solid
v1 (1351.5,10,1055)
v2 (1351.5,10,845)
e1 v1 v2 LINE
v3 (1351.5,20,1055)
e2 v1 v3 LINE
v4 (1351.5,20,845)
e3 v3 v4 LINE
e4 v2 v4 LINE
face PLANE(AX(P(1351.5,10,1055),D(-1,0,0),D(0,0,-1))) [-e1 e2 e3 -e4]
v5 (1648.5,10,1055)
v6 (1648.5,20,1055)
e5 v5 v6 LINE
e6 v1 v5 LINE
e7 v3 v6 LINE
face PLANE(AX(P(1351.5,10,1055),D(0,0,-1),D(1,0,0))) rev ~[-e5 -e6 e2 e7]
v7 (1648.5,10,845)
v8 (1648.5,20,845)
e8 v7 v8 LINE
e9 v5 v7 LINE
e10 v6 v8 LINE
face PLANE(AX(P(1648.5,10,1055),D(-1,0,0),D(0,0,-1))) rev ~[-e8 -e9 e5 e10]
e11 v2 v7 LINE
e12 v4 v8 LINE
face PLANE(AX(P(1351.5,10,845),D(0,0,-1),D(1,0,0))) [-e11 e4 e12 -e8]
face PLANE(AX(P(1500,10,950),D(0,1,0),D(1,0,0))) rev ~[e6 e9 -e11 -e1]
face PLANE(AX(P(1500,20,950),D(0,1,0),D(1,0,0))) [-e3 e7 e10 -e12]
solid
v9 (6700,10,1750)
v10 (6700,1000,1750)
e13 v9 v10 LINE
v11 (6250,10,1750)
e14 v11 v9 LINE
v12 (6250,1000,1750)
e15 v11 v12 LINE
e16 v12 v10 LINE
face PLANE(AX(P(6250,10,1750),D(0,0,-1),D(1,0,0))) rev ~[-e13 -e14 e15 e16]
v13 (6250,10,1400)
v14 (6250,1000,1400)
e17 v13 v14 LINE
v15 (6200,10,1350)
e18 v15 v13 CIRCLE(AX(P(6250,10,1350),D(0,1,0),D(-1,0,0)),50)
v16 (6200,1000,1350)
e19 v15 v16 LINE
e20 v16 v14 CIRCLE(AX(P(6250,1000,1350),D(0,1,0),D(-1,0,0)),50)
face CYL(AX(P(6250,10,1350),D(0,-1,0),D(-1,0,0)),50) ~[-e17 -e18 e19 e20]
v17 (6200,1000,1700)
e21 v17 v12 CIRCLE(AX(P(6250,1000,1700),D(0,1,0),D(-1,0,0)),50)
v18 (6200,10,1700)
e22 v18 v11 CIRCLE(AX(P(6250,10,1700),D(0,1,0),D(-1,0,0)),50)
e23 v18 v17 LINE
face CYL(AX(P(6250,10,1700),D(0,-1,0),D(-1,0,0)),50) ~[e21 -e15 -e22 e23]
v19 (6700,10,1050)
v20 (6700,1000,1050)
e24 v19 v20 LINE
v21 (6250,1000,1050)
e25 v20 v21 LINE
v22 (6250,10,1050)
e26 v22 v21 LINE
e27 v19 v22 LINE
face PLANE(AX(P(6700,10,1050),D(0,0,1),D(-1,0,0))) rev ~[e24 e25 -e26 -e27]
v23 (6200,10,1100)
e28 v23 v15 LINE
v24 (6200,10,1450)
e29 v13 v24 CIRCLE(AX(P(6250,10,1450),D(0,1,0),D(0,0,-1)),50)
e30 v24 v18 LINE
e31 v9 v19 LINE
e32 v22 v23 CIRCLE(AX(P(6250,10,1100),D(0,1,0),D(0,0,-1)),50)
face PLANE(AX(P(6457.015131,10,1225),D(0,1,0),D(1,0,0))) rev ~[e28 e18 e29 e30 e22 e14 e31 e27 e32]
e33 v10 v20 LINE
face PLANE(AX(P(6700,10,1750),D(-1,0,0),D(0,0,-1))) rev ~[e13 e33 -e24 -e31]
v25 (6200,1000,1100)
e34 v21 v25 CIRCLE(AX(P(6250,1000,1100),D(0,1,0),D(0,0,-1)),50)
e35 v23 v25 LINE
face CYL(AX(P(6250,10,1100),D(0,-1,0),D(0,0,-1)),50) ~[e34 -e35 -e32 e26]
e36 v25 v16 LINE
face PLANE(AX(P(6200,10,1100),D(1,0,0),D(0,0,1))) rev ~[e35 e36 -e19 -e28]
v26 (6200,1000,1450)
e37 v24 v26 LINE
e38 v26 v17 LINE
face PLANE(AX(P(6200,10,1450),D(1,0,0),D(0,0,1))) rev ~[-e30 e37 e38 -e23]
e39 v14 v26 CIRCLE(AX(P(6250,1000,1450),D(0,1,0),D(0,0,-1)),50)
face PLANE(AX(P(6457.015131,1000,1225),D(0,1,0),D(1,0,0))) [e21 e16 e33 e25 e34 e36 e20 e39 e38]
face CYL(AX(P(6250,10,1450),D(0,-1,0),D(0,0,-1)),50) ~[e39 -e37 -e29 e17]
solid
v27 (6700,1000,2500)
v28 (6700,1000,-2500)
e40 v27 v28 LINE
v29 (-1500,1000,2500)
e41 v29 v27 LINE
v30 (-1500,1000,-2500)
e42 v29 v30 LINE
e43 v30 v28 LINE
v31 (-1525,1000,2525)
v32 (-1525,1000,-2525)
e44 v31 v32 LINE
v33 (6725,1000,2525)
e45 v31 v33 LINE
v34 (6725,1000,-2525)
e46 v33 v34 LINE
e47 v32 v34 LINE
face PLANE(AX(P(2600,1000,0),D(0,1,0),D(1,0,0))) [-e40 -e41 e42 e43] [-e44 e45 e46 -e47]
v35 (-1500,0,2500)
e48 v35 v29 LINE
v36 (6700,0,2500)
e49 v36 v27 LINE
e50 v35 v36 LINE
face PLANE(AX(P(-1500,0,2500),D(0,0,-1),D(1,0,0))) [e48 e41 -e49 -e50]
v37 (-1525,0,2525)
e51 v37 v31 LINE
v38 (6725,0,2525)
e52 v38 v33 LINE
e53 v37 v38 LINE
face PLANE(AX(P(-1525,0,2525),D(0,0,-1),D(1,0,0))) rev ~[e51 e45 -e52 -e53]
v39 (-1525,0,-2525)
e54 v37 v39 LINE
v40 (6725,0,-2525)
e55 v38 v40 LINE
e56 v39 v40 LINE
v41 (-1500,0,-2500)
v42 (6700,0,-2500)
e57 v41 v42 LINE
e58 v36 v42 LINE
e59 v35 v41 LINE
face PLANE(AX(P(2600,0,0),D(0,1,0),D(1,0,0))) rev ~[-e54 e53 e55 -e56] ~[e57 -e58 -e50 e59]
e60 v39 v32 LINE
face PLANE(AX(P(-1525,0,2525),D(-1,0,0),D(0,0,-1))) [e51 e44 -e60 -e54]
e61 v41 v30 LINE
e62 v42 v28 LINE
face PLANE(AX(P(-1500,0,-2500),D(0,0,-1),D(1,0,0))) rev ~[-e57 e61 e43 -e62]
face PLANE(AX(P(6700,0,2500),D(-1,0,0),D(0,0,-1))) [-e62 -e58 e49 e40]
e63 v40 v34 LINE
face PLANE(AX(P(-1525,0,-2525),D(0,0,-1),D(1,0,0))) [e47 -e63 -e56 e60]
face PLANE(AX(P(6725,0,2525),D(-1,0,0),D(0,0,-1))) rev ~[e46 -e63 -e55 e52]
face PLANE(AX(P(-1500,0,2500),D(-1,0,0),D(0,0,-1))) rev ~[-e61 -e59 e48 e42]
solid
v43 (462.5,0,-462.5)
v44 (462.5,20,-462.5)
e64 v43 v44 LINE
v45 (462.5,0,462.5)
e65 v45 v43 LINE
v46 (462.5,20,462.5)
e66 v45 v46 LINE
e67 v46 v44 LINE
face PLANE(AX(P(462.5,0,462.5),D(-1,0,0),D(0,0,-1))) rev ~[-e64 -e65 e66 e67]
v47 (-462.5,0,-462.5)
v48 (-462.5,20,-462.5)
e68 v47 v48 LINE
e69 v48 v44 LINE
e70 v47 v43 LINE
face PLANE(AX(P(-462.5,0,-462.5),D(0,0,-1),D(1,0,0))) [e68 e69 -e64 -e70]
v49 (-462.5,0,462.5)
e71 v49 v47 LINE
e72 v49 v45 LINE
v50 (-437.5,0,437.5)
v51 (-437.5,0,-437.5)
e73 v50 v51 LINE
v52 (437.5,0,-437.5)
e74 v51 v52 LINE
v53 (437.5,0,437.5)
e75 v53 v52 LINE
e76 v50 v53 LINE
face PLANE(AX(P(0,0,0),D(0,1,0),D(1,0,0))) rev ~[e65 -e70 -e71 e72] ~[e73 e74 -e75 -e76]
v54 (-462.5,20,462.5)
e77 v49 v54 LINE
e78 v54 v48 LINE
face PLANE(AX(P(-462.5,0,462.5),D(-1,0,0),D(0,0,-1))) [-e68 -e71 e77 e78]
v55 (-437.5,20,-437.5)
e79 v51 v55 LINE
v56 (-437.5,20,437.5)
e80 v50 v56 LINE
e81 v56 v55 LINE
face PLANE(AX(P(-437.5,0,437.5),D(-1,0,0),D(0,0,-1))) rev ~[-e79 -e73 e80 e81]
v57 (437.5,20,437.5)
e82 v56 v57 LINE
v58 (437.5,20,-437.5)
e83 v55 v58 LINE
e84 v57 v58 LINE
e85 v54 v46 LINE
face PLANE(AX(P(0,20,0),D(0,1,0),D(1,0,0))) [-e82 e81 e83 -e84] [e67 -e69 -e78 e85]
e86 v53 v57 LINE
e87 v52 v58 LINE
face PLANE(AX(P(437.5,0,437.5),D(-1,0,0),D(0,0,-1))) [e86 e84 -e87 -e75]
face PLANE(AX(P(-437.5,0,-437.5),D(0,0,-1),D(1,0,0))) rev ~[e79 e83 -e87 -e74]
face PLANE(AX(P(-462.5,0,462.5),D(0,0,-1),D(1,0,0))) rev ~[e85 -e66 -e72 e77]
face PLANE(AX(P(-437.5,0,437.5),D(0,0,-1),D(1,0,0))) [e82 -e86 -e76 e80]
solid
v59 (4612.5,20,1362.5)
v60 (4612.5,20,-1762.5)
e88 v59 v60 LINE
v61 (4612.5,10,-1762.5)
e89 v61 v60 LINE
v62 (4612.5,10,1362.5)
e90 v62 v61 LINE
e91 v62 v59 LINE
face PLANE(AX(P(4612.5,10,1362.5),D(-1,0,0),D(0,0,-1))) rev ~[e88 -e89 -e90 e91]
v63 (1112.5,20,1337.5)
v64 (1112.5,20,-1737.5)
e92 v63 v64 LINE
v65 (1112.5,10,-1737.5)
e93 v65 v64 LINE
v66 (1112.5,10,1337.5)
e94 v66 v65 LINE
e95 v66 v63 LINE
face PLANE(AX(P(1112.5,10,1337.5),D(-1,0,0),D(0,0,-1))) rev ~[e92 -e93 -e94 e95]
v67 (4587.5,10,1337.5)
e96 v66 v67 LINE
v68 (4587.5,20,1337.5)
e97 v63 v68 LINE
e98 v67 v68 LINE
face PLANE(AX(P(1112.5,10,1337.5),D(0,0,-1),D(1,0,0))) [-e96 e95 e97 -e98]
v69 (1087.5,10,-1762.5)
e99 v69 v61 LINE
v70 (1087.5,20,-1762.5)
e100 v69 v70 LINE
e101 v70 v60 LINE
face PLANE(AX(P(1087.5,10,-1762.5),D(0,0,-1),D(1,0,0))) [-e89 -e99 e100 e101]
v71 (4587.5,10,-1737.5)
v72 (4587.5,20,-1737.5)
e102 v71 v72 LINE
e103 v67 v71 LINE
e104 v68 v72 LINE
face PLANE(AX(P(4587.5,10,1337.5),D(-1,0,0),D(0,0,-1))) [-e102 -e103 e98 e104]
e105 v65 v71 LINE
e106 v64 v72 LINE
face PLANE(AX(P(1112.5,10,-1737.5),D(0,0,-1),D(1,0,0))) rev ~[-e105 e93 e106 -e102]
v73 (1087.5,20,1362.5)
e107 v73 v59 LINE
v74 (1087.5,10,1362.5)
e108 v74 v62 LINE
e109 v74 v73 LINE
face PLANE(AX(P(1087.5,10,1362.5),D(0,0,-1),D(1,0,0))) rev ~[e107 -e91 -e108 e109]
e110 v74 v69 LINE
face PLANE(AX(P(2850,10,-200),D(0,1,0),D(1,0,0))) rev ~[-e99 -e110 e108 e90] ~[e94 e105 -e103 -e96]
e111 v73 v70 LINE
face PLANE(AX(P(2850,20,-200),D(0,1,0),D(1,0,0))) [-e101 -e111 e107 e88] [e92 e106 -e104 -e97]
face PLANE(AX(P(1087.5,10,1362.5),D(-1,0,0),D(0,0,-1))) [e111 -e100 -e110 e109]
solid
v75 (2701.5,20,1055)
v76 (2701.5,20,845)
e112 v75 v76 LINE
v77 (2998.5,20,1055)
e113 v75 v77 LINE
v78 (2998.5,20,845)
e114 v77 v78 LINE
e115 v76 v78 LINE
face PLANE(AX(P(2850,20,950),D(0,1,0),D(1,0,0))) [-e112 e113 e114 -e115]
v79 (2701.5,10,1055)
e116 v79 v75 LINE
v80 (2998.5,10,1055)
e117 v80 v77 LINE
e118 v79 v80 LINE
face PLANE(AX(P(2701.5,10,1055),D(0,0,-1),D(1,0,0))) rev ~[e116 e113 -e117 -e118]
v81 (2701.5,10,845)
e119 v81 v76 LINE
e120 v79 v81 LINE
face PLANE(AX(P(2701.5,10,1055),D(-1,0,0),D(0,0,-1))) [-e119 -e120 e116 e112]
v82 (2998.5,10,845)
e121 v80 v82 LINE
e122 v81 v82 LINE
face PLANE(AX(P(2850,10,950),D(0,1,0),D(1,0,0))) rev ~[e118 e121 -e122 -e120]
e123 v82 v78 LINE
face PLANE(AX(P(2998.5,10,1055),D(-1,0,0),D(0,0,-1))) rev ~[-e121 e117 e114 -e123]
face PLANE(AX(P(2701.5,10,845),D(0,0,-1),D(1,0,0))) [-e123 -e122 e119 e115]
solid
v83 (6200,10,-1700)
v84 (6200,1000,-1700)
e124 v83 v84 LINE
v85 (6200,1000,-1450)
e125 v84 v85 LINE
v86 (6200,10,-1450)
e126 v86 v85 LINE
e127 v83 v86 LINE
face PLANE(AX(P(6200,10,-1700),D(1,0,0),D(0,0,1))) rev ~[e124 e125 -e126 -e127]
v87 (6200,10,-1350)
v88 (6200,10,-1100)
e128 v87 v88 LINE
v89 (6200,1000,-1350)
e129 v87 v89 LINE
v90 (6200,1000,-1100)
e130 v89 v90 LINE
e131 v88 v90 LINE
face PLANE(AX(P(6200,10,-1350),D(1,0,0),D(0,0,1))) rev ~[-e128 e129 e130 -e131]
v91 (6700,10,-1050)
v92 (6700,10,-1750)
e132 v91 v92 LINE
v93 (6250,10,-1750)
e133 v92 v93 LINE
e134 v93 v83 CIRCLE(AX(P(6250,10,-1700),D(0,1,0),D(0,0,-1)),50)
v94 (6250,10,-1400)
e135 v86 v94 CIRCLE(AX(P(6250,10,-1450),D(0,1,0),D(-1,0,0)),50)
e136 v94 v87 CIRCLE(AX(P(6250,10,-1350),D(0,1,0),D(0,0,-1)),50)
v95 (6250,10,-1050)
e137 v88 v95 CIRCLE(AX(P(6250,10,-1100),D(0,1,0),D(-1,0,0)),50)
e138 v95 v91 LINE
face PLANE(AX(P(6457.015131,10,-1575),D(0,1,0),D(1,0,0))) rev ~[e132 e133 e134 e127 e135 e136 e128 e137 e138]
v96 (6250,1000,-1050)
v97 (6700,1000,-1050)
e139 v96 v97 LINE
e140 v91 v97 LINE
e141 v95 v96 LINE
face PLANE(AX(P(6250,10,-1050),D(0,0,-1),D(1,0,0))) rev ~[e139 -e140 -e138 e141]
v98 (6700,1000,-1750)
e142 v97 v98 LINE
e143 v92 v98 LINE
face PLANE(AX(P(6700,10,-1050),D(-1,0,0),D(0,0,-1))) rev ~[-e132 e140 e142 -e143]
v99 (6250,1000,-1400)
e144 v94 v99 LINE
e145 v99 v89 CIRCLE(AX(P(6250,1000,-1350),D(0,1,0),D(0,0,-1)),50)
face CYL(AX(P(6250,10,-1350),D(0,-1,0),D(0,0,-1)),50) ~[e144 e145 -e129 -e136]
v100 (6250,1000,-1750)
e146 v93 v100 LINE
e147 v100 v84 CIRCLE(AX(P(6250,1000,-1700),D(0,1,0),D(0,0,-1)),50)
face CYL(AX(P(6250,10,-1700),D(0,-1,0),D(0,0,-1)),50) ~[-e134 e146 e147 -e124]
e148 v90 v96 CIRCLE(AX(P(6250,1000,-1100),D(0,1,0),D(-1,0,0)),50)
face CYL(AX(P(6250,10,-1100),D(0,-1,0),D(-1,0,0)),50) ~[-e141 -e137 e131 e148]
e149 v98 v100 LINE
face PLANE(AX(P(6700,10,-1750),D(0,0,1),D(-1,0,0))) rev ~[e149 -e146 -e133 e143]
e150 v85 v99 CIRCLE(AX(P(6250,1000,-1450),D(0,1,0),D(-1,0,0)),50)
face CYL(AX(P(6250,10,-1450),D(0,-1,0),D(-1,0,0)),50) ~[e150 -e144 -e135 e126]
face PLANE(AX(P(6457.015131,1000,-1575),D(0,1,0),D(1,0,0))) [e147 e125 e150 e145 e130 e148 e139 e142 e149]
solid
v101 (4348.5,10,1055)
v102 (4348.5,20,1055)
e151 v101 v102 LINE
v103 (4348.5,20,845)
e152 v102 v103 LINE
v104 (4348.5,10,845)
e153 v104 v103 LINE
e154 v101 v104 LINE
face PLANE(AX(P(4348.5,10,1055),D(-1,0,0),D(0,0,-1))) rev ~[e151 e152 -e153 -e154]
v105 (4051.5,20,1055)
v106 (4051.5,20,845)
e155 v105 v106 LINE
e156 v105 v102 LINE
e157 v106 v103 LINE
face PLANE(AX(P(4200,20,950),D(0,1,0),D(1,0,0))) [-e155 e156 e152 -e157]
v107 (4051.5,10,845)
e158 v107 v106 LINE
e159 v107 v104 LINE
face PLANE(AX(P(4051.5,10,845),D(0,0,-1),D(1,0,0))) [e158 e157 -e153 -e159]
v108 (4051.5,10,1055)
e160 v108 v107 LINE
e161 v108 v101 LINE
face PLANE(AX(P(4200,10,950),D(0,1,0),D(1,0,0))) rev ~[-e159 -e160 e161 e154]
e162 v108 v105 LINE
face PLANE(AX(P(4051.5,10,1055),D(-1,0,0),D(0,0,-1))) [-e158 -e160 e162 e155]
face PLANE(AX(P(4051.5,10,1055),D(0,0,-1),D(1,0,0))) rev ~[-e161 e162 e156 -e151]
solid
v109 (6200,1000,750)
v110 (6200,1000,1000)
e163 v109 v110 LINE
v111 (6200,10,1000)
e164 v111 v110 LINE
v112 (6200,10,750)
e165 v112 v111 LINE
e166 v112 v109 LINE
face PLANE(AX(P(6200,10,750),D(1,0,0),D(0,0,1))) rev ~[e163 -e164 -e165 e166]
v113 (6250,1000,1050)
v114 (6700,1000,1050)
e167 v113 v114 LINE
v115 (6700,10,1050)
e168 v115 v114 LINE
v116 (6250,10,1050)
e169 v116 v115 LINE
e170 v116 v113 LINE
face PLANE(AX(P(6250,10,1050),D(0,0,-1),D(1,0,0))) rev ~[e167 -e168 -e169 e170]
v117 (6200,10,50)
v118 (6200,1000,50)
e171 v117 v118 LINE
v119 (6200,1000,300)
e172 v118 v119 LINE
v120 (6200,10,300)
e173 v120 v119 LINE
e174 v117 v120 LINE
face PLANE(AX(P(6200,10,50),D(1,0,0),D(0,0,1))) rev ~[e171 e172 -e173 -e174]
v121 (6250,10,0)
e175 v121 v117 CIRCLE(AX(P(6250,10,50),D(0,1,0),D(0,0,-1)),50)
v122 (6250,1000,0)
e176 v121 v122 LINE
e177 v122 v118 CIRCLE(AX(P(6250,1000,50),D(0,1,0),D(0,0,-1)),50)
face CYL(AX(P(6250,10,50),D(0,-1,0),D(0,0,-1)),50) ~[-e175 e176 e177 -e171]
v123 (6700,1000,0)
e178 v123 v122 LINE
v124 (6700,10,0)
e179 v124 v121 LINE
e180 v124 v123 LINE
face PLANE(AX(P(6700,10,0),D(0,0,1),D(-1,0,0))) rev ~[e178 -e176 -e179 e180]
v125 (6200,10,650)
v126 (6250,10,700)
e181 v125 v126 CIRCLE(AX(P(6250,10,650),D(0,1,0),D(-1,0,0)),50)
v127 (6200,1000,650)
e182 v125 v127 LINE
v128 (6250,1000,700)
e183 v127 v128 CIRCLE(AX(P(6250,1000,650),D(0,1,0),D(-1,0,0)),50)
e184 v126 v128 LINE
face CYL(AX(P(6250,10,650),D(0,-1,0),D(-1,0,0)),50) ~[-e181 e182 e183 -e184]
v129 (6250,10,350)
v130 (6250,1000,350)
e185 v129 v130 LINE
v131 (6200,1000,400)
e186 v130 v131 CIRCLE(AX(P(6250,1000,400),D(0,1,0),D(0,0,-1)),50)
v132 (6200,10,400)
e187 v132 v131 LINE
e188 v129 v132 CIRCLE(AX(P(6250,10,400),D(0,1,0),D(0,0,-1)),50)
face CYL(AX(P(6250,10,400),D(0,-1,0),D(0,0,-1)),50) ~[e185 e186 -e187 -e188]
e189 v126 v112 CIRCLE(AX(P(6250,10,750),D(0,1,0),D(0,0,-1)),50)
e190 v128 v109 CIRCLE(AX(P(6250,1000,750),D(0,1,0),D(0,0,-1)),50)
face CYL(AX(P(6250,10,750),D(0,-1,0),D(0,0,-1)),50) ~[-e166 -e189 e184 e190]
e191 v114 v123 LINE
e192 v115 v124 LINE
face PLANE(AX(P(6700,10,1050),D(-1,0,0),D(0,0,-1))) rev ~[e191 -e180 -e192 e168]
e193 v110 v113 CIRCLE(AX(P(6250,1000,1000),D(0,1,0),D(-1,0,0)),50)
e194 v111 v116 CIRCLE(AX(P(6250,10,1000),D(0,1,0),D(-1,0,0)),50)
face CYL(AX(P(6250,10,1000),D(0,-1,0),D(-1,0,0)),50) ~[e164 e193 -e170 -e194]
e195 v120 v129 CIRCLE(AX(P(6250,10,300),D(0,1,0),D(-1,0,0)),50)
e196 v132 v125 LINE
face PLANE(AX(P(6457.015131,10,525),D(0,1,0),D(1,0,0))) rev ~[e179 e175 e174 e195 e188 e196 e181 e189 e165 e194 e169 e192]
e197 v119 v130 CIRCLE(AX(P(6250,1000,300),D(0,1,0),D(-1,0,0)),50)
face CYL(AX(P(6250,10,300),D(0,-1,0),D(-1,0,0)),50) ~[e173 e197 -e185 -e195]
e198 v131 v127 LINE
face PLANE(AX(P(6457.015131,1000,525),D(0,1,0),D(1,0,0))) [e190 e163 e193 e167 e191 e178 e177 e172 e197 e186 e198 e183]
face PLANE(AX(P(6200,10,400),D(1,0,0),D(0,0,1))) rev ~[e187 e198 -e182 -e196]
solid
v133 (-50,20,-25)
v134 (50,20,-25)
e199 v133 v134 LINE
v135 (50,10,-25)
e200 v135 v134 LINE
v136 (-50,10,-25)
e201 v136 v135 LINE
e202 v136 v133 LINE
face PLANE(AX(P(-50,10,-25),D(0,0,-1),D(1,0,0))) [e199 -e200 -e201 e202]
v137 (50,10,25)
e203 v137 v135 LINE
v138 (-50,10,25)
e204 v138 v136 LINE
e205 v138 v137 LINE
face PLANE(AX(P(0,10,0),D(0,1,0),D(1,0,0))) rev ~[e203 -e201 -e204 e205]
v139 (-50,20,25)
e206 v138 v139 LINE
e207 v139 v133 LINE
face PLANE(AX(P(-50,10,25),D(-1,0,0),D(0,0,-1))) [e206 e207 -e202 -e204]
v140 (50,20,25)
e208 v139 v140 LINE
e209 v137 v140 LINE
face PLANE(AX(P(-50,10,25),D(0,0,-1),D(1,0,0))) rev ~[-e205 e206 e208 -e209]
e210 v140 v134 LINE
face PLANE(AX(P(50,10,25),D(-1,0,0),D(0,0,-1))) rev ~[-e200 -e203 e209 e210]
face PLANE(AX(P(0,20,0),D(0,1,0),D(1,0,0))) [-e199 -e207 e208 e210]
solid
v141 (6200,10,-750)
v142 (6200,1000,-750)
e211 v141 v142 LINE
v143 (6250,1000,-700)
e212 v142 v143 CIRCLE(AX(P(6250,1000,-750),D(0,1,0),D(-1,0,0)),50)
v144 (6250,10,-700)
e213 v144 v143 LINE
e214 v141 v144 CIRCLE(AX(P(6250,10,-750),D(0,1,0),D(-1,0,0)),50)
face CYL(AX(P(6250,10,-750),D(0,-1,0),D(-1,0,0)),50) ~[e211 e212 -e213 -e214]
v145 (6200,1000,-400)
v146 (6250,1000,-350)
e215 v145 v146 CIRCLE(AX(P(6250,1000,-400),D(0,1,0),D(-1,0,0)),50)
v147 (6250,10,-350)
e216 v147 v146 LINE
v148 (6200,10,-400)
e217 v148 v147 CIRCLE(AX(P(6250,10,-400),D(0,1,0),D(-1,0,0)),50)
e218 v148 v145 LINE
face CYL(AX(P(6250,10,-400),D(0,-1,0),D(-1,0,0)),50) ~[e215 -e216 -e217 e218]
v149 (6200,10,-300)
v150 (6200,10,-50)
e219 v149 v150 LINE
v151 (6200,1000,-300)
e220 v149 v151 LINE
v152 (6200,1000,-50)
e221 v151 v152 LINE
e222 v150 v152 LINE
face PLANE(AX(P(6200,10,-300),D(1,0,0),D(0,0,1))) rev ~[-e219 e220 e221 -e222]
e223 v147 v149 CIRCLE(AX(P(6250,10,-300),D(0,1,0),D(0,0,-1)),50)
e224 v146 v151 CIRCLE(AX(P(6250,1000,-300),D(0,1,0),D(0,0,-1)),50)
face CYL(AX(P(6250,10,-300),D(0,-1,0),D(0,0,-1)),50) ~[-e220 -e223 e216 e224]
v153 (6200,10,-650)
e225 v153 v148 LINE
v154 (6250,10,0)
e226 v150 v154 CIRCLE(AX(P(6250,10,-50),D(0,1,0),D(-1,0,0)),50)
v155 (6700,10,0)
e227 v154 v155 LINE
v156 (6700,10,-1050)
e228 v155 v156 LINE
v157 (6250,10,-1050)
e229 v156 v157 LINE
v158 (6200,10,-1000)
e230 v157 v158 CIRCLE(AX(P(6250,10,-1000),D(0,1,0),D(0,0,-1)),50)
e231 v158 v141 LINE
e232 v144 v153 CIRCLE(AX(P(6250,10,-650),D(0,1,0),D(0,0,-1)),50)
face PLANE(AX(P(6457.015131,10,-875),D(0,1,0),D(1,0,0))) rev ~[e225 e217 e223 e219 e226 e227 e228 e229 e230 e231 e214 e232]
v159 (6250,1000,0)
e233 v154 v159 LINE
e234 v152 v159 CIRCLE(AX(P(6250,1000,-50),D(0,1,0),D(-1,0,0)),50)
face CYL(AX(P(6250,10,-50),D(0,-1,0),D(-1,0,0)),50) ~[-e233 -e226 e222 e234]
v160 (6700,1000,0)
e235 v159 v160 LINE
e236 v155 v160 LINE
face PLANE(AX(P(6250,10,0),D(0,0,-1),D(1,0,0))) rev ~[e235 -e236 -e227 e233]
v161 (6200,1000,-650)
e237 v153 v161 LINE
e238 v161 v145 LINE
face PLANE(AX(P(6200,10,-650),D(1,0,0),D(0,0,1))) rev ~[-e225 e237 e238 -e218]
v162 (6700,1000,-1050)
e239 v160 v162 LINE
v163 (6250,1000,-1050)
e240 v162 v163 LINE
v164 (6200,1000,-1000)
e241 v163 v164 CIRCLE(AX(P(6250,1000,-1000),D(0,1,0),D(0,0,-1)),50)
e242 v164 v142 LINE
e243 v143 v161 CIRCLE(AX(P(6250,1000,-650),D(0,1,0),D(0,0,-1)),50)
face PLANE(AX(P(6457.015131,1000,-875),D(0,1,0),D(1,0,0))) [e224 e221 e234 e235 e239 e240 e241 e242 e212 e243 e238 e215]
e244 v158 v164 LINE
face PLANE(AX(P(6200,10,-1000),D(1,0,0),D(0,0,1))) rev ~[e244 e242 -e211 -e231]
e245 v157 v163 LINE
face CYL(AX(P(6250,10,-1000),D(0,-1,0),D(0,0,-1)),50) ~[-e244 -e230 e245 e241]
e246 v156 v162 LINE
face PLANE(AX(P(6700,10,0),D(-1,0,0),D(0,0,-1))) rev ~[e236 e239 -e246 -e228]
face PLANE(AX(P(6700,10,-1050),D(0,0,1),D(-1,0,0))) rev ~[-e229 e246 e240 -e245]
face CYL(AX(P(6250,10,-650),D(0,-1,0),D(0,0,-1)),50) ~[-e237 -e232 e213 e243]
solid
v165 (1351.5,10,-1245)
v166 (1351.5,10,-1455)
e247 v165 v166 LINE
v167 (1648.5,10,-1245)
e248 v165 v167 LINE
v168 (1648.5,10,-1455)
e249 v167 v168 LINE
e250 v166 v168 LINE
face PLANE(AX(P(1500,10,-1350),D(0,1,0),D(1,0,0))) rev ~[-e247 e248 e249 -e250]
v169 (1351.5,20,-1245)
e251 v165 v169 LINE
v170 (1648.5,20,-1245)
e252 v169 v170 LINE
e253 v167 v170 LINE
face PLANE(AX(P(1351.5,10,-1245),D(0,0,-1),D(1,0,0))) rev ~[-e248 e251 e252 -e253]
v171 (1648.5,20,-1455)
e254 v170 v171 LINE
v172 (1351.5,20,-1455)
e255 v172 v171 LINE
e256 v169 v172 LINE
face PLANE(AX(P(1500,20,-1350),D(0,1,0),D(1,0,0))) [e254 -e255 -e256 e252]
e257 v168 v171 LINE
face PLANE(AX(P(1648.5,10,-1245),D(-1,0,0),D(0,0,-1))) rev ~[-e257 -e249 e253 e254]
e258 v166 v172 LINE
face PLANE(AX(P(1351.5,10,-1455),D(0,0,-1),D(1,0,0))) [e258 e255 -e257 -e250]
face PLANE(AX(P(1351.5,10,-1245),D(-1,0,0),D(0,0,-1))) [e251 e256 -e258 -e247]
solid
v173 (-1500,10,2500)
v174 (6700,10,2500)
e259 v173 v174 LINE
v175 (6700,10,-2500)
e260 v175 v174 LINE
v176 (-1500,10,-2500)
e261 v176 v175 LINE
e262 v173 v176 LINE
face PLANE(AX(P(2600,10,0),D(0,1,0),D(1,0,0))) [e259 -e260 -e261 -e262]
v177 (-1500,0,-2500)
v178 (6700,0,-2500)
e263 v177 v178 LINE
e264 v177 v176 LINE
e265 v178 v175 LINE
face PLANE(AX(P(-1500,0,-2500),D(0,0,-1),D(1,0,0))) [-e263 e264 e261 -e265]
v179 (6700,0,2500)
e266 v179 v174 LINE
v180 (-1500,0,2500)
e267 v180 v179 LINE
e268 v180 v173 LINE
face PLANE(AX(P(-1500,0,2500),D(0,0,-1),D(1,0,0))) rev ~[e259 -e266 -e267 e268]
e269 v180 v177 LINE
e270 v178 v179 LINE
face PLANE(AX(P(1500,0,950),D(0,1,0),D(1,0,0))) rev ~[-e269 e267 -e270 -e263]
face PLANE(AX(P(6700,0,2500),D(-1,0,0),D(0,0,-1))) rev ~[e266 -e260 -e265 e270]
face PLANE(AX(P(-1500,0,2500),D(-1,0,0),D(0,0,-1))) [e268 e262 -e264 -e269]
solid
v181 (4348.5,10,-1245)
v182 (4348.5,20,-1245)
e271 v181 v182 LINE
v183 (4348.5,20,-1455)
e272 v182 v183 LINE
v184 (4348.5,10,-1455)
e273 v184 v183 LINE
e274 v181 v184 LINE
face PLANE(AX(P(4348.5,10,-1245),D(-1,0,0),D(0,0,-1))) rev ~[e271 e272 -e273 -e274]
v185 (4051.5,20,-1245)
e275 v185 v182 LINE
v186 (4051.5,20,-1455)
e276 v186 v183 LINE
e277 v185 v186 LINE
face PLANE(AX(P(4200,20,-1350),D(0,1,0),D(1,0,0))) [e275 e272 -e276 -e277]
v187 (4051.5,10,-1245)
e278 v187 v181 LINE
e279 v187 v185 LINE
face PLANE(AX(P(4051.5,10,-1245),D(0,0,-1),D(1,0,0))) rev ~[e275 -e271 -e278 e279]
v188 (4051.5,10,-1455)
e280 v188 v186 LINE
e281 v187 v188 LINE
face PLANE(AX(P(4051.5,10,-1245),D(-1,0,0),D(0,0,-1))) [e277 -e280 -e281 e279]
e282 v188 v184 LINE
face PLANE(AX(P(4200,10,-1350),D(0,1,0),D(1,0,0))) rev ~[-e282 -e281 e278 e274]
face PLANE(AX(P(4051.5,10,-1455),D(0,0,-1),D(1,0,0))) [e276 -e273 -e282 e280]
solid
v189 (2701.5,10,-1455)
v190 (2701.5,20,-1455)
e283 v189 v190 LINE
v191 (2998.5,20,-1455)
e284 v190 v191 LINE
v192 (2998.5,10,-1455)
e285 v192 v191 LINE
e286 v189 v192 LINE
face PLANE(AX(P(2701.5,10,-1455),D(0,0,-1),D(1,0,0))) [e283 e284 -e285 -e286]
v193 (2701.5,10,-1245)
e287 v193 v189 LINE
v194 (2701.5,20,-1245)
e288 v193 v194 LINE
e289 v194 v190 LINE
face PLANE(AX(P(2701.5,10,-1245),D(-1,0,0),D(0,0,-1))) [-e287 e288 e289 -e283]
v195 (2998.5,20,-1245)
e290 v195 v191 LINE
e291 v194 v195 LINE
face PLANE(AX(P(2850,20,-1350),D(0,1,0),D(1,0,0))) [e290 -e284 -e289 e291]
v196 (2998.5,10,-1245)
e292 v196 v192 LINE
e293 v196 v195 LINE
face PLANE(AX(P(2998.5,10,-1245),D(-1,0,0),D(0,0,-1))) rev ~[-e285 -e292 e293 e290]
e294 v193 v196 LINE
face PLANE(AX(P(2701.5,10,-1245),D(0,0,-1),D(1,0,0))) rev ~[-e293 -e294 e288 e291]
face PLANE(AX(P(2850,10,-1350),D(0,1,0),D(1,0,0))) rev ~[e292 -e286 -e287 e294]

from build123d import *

# Parameters (mm, degrees)
SKETCH1_W                = 8200
SKETCH1_H                = 5000
SKETCH1_W_2              = 900
SKETCH1_H_2              = 900
SKETCH1_W_3              = 100
SKETCH1_H_3              = 50
SKETCH1_W_4              = 3500
SKETCH1_H_4              = 3100
SKETCH1_W_5              = 297
SKETCH1_H_5              = 210
BOSS_EXTRUDE1_DEPTH      = 10
EXTRUDE_THIN1_DEPTH      = 10
EXTRUDE_THIN1_DEPTH_BACK = 10
EXTRUDE_THIN1_START      = 10
SKETCH1_4_W              = 925
SKETCH1_4_H              = 925
SKETCH1_4_W_2            = 875
SKETCH1_4_H_2            = 875
BOSS_EXTRUDE3_START      = 10
SKETCH1_5_W              = 100
SKETCH1_5_H              = 50
BOSS_EXTRUDE3_DEPTH      = 10
SKETCH1_6_W              = 8250
SKETCH1_6_H              = 5050
SKETCH1_6_W_2            = 8200
SKETCH1_6_H_2            = 5000
EXTRUDE_THIN2_DEPTH      = 1000
BOSS_EXTRUDE4_START      = 10
SKETCH1_7_W              = 297
SKETCH1_7_H              = 210
BOSS_EXTRUDE4_DEPTH      = 10
BOSS_EXTRUDE4_2_DEPTH    = 10
BOSS_EXTRUDE4_3_DEPTH    = 10
BOSS_EXTRUDE4_4_DEPTH    = 10
BOSS_EXTRUDE4_5_DEPTH    = 10
BOSS_EXTRUDE4_6_DEPTH    = 10
BOSS_EXTRUDE6_START      = 10
BOSS_EXTRUDE6_DEPTH      = 990
BOSS_EXTRUDE7_START      = 10
BOSS_EXTRUDE7_DEPTH      = 990
BOSS_EXTRUDE8_START      = 10
BOSS_EXTRUDE8_DEPTH      = 990
BOSS_EXTRUDE9_START      = 10
BOSS_EXTRUDE9_DEPTH      = 990
EXTRUDE_THIN3_START      = 10
SKETCH1_12_W             = 3525
SKETCH1_12_H             = 3125
SKETCH1_12_W_2           = 3475
SKETCH1_12_H_2           = 3075
EXTRUDE_THIN3_DEPTH      = 10


with BuildPart() as part:
    # Sketch1 → Boss-Extrude1 (new body)
    # profile 1 of 20: a face of its own
    with BuildSketch(Plane(origin=(0, 0, 0), x_dir=(1, 0, 0), z_dir=(0, 1, 0))):
        with Locations((2600, 0)):
            Rectangle(SKETCH1_W, SKETCH1_H)
        Rectangle(SKETCH1_W_2, SKETCH1_H_2, mode=Mode.SUBTRACT)
    # profile 2 of 20: a face of its own
    with BuildSketch(Plane(origin=(0, 0, 0), x_dir=(1, 0, 0), z_dir=(0, 1, 0))):
        Rectangle(SKETCH1_W_2, SKETCH1_H_2)
    # profile 3 of 20: a face of its own
    with BuildSketch(Plane(origin=(0, 0, 0), x_dir=(1, 0, 0), z_dir=(0, 1, 0))):
        Rectangle(SKETCH1_W_3, SKETCH1_H_3)
    # profile 4 of 20: a face of its own
    with BuildSketch(Plane(origin=(0, 0, 0), x_dir=(1, 0, 0), z_dir=(0, 1, 0))):
        with BuildLine():
            Line((6250, -1750), (6700, -1750))
            Line((6700, -1750), (6700, -1400))
            Line((6700, -1400), (6250, -1400))
            ThreePointArc((6250, -1400), (6214.64466094, -1414.64466094), (6200, -1450))
            Line((6200, -1450), (6200, -1700))
            ThreePointArc((6200, -1700), (6214.64466094, -1735.355339059), (6250, -1750))
        make_face()
    # profile 5 of 20: a face of its own
    with BuildSketch(Plane(origin=(0, 0, 0), x_dir=(1, 0, 0), z_dir=(0, 1, 0))):
        with BuildLine():
            Line((6250, -1400), (6700, -1400))
            Line((6700, -1400), (6700, -1050))
            Line((6700, -1050), (6250, -1050))
            ThreePointArc((6250, -1050), (6214.64466094, -1064.64466094), (6200, -1100))
            Line((6200, -1100), (6200, -1350))
            ThreePointArc((6200, -1350), (6214.64466094, -1385.355339059), (6250, -1400))
        make_face()
    # profile 6 of 20: a face of its own
    with BuildSketch(Plane(origin=(0, 0, 0), x_dir=(1, 0, 0), z_dir=(0, 1, 0))):
        with BuildLine():
            Line((6250, -1050), (6700, -1050))
            Line((6700, -1050), (6700, -700))
            Line((6700, -700), (6250, -700))
            ThreePointArc((6250, -700), (6214.644660941, -714.64466094), (6200, -750))
            Line((6200, -750), (6200, -1000))
            ThreePointArc((6200, -1000), (6214.644660941, -1035.355339059), (6250, -1050))
        make_face()
    # profile 7 of 20: a face of its own
    with BuildSketch(Plane(origin=(0, 0, 0), x_dir=(1, 0, 0), z_dir=(0, 1, 0))):
        with BuildLine():
            Line((6250, -700), (6700, -700))
            Line((6700, -700), (6700, -350))
            Line((6700, -350), (6250, -350))
            ThreePointArc((6250, -350), (6214.644660941, -364.64466094), (6200, -400))
            Line((6200, -400), (6200, -650))
            ThreePointArc((6200, -650), (6214.644660941, -685.355339059), (6250, -700))
        make_face()
    # profile 8 of 20: a face of its own
    with BuildSketch(Plane(origin=(0, 0, 0), x_dir=(1, 0, 0), z_dir=(0, 1, 0))):
        with BuildLine():
            Line((6250, -350), (6700, -350))
            Line((6700, -350), (6700, 0))
            Line((6700, 0), (6250, 0))
            ThreePointArc((6250, 0), (6214.644660941, -14.64466094), (6200, -50))
            Line((6200, -50), (6200, -300))
            ThreePointArc((6200, -300), (6214.644660941, -335.355339059), (6250, -350))
        make_face()
    # profile 9 of 20: a face of its own
    with BuildSketch(Plane(origin=(0, 0, 0), x_dir=(1, 0, 0), z_dir=(0, 1, 0))):
        with BuildLine():
            Line((6250, 0), (6700, 0))
            Line((6700, 0), (6700, 350))
            Line((6700, 350), (6250, 350))
            ThreePointArc((6250, 350), (6214.644660941, 335.35533906), (6200, 300))
            Line((6200, 300), (6200, 50))
            ThreePointArc((6200, 50), (6214.644660941, 14.644660941), (6250, 0))
        make_face()
    # profile 10 of 20: a face of its own
    with BuildSketch(Plane(origin=(0, 0, 0), x_dir=(1, 0, 0), z_dir=(0, 1, 0))):
        with BuildLine():
            Line((6700, 350), (6700, 700))
            Line((6700, 700), (6250, 700))
            ThreePointArc((6250, 700), (6214.644660941, 685.35533906), (6200, 650))
            Line((6200, 650), (6200, 400))
            ThreePointArc((6200, 400), (6214.644660941, 364.644660941), (6250, 350))
            Line((6250, 350), (6700, 350))
        make_face()
    # profile 11 of 20: a face of its own
    with BuildSketch(Plane(origin=(0, 0, 0), x_dir=(1, 0, 0), z_dir=(0, 1, 0))):
        with BuildLine():
            Line((6700, 1400), (6700, 1750))
            Line((6700, 1750), (6250, 1750))
            ThreePointArc((6250, 1750), (6214.644660941, 1735.35533906), (6200, 1700))
            Line((6200, 1700), (6200, 1450))
            ThreePointArc((6200, 1450), (6214.644660941, 1414.644660941), (6250, 1400))
            Line((6250, 1400), (6700, 1400))
        make_face()
    # profile 12 of 20: a face of its own
    with BuildSketch(Plane(origin=(0, 0, 0), x_dir=(1, 0, 0), z_dir=(0, 1, 0))):
        with BuildLine():
            Line((6700, 1050), (6700, 1400))
            Line((6700, 1400), (6250, 1400))
            ThreePointArc((6250, 1400), (6214.644660941, 1385.35533906), (6200, 1350))
            Line((6200, 1350), (6200, 1100))
            ThreePointArc((6200, 1100), (6214.644660941, 1064.644660941), (6250, 1050))
            Line((6250, 1050), (6700, 1050))
        make_face()
    # profile 13 of 20: a face of its own
    with BuildSketch(Plane(origin=(0, 0, 0), x_dir=(1, 0, 0), z_dir=(0, 1, 0))):
        with BuildLine():
            Line((6700, 700), (6700, 1050))
            Line((6700, 1050), (6250, 1050))
            ThreePointArc((6250, 1050), (6214.644660941, 1035.35533906), (6200, 1000))
            Line((6200, 1000), (6200, 750))
            ThreePointArc((6200, 750), (6214.644660941, 714.644660941), (6250, 700))
            Line((6250, 700), (6700, 700))
        make_face()
    # profile 14 of 20: a face of its own
    with BuildSketch(Plane(origin=(0, 0, 0), x_dir=(1, 0, 0), z_dir=(0, 1, 0))):
        with Locations((2850, 200)):
            Rectangle(SKETCH1_W_4, SKETCH1_H_4)
        with Locations((4200, -950)):
            Rectangle(SKETCH1_W_5, SKETCH1_H_5, mode=Mode.SUBTRACT)
        with Locations((2850, -950)):
            Rectangle(SKETCH1_W_5, SKETCH1_H_5, mode=Mode.SUBTRACT)
        with Locations((1500, -950)):
            Rectangle(SKETCH1_W_5, SKETCH1_H_5, mode=Mode.SUBTRACT)
        with Locations((4200, 1350)):
            Rectangle(SKETCH1_W_5, SKETCH1_H_5, mode=Mode.SUBTRACT)
        with Locations((2850, 1350)):
            Rectangle(SKETCH1_W_5, SKETCH1_H_5, mode=Mode.SUBTRACT)
        with Locations((1500, 1350)):
            Rectangle(SKETCH1_W_5, SKETCH1_H_5, mode=Mode.SUBTRACT)
    # profile 15 of 20: a face of its own
    with BuildSketch(Plane(origin=(0, 0, 0), x_dir=(1, 0, 0), z_dir=(0, 1, 0))):
        with Locations((1500, 1350)):
            Rectangle(SKETCH1_W_5, SKETCH1_H_5)
    # profile 16 of 20: a face of its own
    with BuildSketch(Plane(origin=(0, 0, 0), x_dir=(1, 0, 0), z_dir=(0, 1, 0))):
        with Locations((2850, 1350)):
            Rectangle(SKETCH1_W_5, SKETCH1_H_5)
    # profile 17 of 20: a face of its own
    with BuildSketch(Plane(origin=(0, 0, 0), x_dir=(1, 0, 0), z_dir=(0, 1, 0))):
        with Locations((4200, 1350)):
            Rectangle(SKETCH1_W_5, SKETCH1_H_5)
    # profile 18 of 20: a face of its own
    with BuildSketch(Plane(origin=(0, 0, 0), x_dir=(1, 0, 0), z_dir=(0, 1, 0))):
        with Locations((4200, -950)):
            Rectangle(SKETCH1_W_5, SKETCH1_H_5)
    # profile 19 of 20: a face of its own
    with BuildSketch(Plane(origin=(0, 0, 0), x_dir=(1, 0, 0), z_dir=(0, 1, 0))):
        with Locations((2850, -950)):
            Rectangle(SKETCH1_W_5, SKETCH1_H_5)
    # profile 20 of 20: a face of its own
    with BuildSketch(Plane(origin=(0, 0, 0), x_dir=(1, 0, 0), z_dir=(0, 1, 0))):
        with Locations((1500, -950)):
            Rectangle(SKETCH1_W_5, SKETCH1_H_5)
    extrude(amount=BOSS_EXTRUDE1_DEPTH)


with BuildPart() as body_2:
    # Sketch1<4> → Extrude-Thin1 (new, two sides: drawn at the far end of the back side and taken through both)
    with BuildSketch(Plane(origin=(0, 0, 0), x_dir=(1, 0, 0), z_dir=(0, 1, 0)).offset(EXTRUDE_THIN1_START - EXTRUDE_THIN1_DEPTH_BACK)):
        Rectangle(SKETCH1_4_W, SKETCH1_4_H)
        Rectangle(SKETCH1_4_W_2, SKETCH1_4_H_2, mode=Mode.SUBTRACT)
    extrude(amount=EXTRUDE_THIN1_DEPTH + EXTRUDE_THIN1_DEPTH_BACK)


with BuildPart() as body_3:
    # Sketch1<5> → Boss-Extrude3 (new body)
    with BuildSketch(Plane(origin=(0, 0, 0), x_dir=(1, 0, 0), z_dir=(0, 1, 0)).offset(BOSS_EXTRUDE3_START)):
        Rectangle(SKETCH1_5_W, SKETCH1_5_H)
    extrude(amount=BOSS_EXTRUDE3_DEPTH)


with BuildPart() as body_4:
    # Sketch1<6> → Extrude-Thin2 (new body)
    with BuildSketch(Plane(origin=(0, 0, 0), x_dir=(1, 0, 0), z_dir=(0, 1, 0))):
        with Locations((2600, 0)):
            Rectangle(SKETCH1_6_W, SKETCH1_6_H)
        with Locations((2600, 0)):
            Rectangle(SKETCH1_6_W_2, SKETCH1_6_H_2, mode=Mode.SUBTRACT)
    extrude(amount=EXTRUDE_THIN2_DEPTH)


with BuildPart() as body_5:
    # Sketch1<7> → Boss-Extrude4 (new body)
    with BuildSketch(Plane(origin=(0, 0, 0), x_dir=(1, 0, 0), z_dir=(0, 1, 0)).offset(BOSS_EXTRUDE4_START)):
        with Locations((2850, -950)):
            Rectangle(SKETCH1_7_W, SKETCH1_7_H)
    extrude(amount=BOSS_EXTRUDE4_DEPTH)


with BuildPart() as body_6:
    # Sketch1<7> → Boss-Extrude4 2 (new body)
    with BuildSketch(Plane(origin=(0, 0, 0), x_dir=(1, 0, 0), z_dir=(0, 1, 0)).offset(BOSS_EXTRUDE4_START)):
        with Locations((1500, -950)):
            Rectangle(SKETCH1_7_W, SKETCH1_7_H)
    extrude(amount=BOSS_EXTRUDE4_2_DEPTH)


with BuildPart() as body_7:
    # Sketch1<7> → Boss-Extrude4 3 (new body)
    with BuildSketch(Plane(origin=(0, 0, 0), x_dir=(1, 0, 0), z_dir=(0, 1, 0)).offset(BOSS_EXTRUDE4_START)):
        with Locations((1500, 1350)):
            Rectangle(SKETCH1_7_W, SKETCH1_7_H)
    extrude(amount=BOSS_EXTRUDE4_3_DEPTH)


with BuildPart() as body_8:
    # Sketch1<7> → Boss-Extrude4 4 (new body)
    with BuildSketch(Plane(origin=(0, 0, 0), x_dir=(1, 0, 0), z_dir=(0, 1, 0)).offset(BOSS_EXTRUDE4_START)):
        with Locations((2850, 1350)):
            Rectangle(SKETCH1_7_W, SKETCH1_7_H)
    extrude(amount=BOSS_EXTRUDE4_4_DEPTH)


with BuildPart() as body_9:
    # Sketch1<7> → Boss-Extrude4 5 (new body)
    with BuildSketch(Plane(origin=(0, 0, 0), x_dir=(1, 0, 0), z_dir=(0, 1, 0)).offset(BOSS_EXTRUDE4_START)):
        with Locations((4200, 1350)):
            Rectangle(SKETCH1_7_W, SKETCH1_7_H)
    extrude(amount=BOSS_EXTRUDE4_5_DEPTH)


with BuildPart() as body_10:
    # Sketch1<7> → Boss-Extrude4 6 (new body)
    with BuildSketch(Plane(origin=(0, 0, 0), x_dir=(1, 0, 0), z_dir=(0, 1, 0)).offset(BOSS_EXTRUDE4_START)):
        with Locations((4200, -950)):
            Rectangle(SKETCH1_7_W, SKETCH1_7_H)
    extrude(amount=BOSS_EXTRUDE4_6_DEPTH)


with BuildPart() as body_11:
    # Sketch1<8> → Boss-Extrude6 (new body)
    with BuildSketch(Plane(origin=(0, 0, 0), x_dir=(1, 0, 0), z_dir=(0, 1, 0)).offset(BOSS_EXTRUDE6_START)):
        with BuildLine():
            Line((6700, 1400), (6700, 1750))
            Line((6700, 1750), (6250, 1750))
            ThreePointArc((6250, 1750), (6214.644660941, 1735.35533906), (6200, 1700))
            Line((6200, 1700), (6200, 1450))
            ThreePointArc((6200, 1450), (6214.644660941, 1414.644660941), (6250, 1400))
            Line((6250, 1400), (6700, 1400))
        make_face()
        with BuildLine():
            Line((6700, 1050), (6700, 1400))
            Line((6700, 1400), (6250, 1400))
            ThreePointArc((6250, 1400), (6214.644660941, 1385.35533906), (6200, 1350))
            Line((6200, 1350), (6200, 1100))
            ThreePointArc((6200, 1100), (6214.644660941, 1064.644660941), (6250, 1050))
            Line((6250, 1050), (6700, 1050))
        make_face()
    extrude(amount=BOSS_EXTRUDE6_DEPTH)


with BuildPart() as body_12:
    # Sketch1<9> → Boss-Extrude7 (new body)
    with BuildSketch(Plane(origin=(0, 0, 0), x_dir=(1, 0, 0), z_dir=(0, 1, 0)).offset(BOSS_EXTRUDE7_START)):
        with BuildLine():
            Line((6700, 700), (6700, 1050))
            Line((6700, 1050), (6250, 1050))
            ThreePointArc((6250, 1050), (6214.644660941, 1035.35533906), (6200, 1000))
            Line((6200, 1000), (6200, 750))
            ThreePointArc((6200, 750), (6214.644660941, 714.644660941), (6250, 700))
            Line((6250, 700), (6700, 700))
        make_face()
        with BuildLine():
            Line((6700, 350), (6700, 700))
            Line((6700, 700), (6250, 700))
            ThreePointArc((6250, 700), (6214.644660941, 685.35533906), (6200, 650))
            Line((6200, 650), (6200, 400))
            ThreePointArc((6200, 400), (6214.644660941, 364.644660941), (6250, 350))
            Line((6250, 350), (6700, 350))
        make_face()
        with BuildLine():
            Line((6250, 0), (6700, 0))
            Line((6700, 0), (6700, 350))
            Line((6700, 350), (6250, 350))
            ThreePointArc((6250, 350), (6214.644660941, 335.35533906), (6200, 300))
            Line((6200, 300), (6200, 50))
            ThreePointArc((6200, 50), (6214.644660941, 14.644660941), (6250, 0))
        make_face()
    extrude(amount=BOSS_EXTRUDE7_DEPTH)


with BuildPart() as body_13:
    # Sketch1<10> → Boss-Extrude8 (new body)
    with BuildSketch(Plane(origin=(0, 0, 0), x_dir=(1, 0, 0), z_dir=(0, 1, 0)).offset(BOSS_EXTRUDE8_START)):
        with BuildLine():
            Line((6250, -700), (6700, -700))
            Line((6700, -700), (6700, -350))
            Line((6700, -350), (6250, -350))
            ThreePointArc((6250, -350), (6214.644660941, -364.64466094), (6200, -400))
            Line((6200, -400), (6200, -650))
            ThreePointArc((6200, -650), (6214.644660941, -685.355339059), (6250, -700))
        make_face()
        with BuildLine():
            Line((6250, -350), (6700, -350))
            Line((6700, -350), (6700, 0))
            Line((6700, 0), (6250, 0))
            ThreePointArc((6250, 0), (6214.644660941, -14.64466094), (6200, -50))
            Line((6200, -50), (6200, -300))
            ThreePointArc((6200, -300), (6214.644660941, -335.355339059), (6250, -350))
        make_face()
        with BuildLine():
            Line((6250, -1050), (6700, -1050))
            Line((6700, -1050), (6700, -700))
            Line((6700, -700), (6250, -700))
            ThreePointArc((6250, -700), (6214.644660941, -714.64466094), (6200, -750))
            Line((6200, -750), (6200, -1000))
            ThreePointArc((6200, -1000), (6214.644660941, -1035.355339059), (6250, -1050))
        make_face()
    extrude(amount=BOSS_EXTRUDE8_DEPTH)


with BuildPart() as body_14:
    # Sketch1<11> → Boss-Extrude9 (new body)
    with BuildSketch(Plane(origin=(0, 0, 0), x_dir=(1, 0, 0), z_dir=(0, 1, 0)).offset(BOSS_EXTRUDE9_START)):
        with BuildLine():
            Line((6250, -1400), (6700, -1400))
            Line((6700, -1400), (6700, -1050))
            Line((6700, -1050), (6250, -1050))
            ThreePointArc((6250, -1050), (6214.64466094, -1064.64466094), (6200, -1100))
            Line((6200, -1100), (6200, -1350))
            ThreePointArc((6200, -1350), (6214.64466094, -1385.355339059), (6250, -1400))
        make_face()
        with BuildLine():
            Line((6250, -1750), (6700, -1750))
            Line((6700, -1750), (6700, -1400))
            Line((6700, -1400), (6250, -1400))
            ThreePointArc((6250, -1400), (6214.64466094, -1414.64466094), (6200, -1450))
            Line((6200, -1450), (6200, -1700))
            ThreePointArc((6200, -1700), (6214.64466094, -1735.355339059), (6250, -1750))
        make_face()
    extrude(amount=BOSS_EXTRUDE9_DEPTH)


with BuildPart() as body_15:
    # Sketch1<12> → Extrude-Thin3 (new body)
    with BuildSketch(Plane(origin=(0, 0, 0), x_dir=(1, 0, 0), z_dir=(0, 1, 0)).offset(EXTRUDE_THIN3_START)):
        with Locations((2850, 200)):
            Rectangle(SKETCH1_12_W, SKETCH1_12_H)
        with Locations((2850, 200)):
            Rectangle(SKETCH1_12_W_2, SKETCH1_12_H_2, mode=Mode.SUBTRACT)
    extrude(amount=EXTRUDE_THIN3_DEPTH)


solid = Compound([part.part, body_2.part, body_3.part, body_4.part, body_5.part, body_6.part, body_7.part, body_8.part, body_9.part, body_10.part, body_11.part, body_12.part, body_13.part, body_14.part, body_15.part])
